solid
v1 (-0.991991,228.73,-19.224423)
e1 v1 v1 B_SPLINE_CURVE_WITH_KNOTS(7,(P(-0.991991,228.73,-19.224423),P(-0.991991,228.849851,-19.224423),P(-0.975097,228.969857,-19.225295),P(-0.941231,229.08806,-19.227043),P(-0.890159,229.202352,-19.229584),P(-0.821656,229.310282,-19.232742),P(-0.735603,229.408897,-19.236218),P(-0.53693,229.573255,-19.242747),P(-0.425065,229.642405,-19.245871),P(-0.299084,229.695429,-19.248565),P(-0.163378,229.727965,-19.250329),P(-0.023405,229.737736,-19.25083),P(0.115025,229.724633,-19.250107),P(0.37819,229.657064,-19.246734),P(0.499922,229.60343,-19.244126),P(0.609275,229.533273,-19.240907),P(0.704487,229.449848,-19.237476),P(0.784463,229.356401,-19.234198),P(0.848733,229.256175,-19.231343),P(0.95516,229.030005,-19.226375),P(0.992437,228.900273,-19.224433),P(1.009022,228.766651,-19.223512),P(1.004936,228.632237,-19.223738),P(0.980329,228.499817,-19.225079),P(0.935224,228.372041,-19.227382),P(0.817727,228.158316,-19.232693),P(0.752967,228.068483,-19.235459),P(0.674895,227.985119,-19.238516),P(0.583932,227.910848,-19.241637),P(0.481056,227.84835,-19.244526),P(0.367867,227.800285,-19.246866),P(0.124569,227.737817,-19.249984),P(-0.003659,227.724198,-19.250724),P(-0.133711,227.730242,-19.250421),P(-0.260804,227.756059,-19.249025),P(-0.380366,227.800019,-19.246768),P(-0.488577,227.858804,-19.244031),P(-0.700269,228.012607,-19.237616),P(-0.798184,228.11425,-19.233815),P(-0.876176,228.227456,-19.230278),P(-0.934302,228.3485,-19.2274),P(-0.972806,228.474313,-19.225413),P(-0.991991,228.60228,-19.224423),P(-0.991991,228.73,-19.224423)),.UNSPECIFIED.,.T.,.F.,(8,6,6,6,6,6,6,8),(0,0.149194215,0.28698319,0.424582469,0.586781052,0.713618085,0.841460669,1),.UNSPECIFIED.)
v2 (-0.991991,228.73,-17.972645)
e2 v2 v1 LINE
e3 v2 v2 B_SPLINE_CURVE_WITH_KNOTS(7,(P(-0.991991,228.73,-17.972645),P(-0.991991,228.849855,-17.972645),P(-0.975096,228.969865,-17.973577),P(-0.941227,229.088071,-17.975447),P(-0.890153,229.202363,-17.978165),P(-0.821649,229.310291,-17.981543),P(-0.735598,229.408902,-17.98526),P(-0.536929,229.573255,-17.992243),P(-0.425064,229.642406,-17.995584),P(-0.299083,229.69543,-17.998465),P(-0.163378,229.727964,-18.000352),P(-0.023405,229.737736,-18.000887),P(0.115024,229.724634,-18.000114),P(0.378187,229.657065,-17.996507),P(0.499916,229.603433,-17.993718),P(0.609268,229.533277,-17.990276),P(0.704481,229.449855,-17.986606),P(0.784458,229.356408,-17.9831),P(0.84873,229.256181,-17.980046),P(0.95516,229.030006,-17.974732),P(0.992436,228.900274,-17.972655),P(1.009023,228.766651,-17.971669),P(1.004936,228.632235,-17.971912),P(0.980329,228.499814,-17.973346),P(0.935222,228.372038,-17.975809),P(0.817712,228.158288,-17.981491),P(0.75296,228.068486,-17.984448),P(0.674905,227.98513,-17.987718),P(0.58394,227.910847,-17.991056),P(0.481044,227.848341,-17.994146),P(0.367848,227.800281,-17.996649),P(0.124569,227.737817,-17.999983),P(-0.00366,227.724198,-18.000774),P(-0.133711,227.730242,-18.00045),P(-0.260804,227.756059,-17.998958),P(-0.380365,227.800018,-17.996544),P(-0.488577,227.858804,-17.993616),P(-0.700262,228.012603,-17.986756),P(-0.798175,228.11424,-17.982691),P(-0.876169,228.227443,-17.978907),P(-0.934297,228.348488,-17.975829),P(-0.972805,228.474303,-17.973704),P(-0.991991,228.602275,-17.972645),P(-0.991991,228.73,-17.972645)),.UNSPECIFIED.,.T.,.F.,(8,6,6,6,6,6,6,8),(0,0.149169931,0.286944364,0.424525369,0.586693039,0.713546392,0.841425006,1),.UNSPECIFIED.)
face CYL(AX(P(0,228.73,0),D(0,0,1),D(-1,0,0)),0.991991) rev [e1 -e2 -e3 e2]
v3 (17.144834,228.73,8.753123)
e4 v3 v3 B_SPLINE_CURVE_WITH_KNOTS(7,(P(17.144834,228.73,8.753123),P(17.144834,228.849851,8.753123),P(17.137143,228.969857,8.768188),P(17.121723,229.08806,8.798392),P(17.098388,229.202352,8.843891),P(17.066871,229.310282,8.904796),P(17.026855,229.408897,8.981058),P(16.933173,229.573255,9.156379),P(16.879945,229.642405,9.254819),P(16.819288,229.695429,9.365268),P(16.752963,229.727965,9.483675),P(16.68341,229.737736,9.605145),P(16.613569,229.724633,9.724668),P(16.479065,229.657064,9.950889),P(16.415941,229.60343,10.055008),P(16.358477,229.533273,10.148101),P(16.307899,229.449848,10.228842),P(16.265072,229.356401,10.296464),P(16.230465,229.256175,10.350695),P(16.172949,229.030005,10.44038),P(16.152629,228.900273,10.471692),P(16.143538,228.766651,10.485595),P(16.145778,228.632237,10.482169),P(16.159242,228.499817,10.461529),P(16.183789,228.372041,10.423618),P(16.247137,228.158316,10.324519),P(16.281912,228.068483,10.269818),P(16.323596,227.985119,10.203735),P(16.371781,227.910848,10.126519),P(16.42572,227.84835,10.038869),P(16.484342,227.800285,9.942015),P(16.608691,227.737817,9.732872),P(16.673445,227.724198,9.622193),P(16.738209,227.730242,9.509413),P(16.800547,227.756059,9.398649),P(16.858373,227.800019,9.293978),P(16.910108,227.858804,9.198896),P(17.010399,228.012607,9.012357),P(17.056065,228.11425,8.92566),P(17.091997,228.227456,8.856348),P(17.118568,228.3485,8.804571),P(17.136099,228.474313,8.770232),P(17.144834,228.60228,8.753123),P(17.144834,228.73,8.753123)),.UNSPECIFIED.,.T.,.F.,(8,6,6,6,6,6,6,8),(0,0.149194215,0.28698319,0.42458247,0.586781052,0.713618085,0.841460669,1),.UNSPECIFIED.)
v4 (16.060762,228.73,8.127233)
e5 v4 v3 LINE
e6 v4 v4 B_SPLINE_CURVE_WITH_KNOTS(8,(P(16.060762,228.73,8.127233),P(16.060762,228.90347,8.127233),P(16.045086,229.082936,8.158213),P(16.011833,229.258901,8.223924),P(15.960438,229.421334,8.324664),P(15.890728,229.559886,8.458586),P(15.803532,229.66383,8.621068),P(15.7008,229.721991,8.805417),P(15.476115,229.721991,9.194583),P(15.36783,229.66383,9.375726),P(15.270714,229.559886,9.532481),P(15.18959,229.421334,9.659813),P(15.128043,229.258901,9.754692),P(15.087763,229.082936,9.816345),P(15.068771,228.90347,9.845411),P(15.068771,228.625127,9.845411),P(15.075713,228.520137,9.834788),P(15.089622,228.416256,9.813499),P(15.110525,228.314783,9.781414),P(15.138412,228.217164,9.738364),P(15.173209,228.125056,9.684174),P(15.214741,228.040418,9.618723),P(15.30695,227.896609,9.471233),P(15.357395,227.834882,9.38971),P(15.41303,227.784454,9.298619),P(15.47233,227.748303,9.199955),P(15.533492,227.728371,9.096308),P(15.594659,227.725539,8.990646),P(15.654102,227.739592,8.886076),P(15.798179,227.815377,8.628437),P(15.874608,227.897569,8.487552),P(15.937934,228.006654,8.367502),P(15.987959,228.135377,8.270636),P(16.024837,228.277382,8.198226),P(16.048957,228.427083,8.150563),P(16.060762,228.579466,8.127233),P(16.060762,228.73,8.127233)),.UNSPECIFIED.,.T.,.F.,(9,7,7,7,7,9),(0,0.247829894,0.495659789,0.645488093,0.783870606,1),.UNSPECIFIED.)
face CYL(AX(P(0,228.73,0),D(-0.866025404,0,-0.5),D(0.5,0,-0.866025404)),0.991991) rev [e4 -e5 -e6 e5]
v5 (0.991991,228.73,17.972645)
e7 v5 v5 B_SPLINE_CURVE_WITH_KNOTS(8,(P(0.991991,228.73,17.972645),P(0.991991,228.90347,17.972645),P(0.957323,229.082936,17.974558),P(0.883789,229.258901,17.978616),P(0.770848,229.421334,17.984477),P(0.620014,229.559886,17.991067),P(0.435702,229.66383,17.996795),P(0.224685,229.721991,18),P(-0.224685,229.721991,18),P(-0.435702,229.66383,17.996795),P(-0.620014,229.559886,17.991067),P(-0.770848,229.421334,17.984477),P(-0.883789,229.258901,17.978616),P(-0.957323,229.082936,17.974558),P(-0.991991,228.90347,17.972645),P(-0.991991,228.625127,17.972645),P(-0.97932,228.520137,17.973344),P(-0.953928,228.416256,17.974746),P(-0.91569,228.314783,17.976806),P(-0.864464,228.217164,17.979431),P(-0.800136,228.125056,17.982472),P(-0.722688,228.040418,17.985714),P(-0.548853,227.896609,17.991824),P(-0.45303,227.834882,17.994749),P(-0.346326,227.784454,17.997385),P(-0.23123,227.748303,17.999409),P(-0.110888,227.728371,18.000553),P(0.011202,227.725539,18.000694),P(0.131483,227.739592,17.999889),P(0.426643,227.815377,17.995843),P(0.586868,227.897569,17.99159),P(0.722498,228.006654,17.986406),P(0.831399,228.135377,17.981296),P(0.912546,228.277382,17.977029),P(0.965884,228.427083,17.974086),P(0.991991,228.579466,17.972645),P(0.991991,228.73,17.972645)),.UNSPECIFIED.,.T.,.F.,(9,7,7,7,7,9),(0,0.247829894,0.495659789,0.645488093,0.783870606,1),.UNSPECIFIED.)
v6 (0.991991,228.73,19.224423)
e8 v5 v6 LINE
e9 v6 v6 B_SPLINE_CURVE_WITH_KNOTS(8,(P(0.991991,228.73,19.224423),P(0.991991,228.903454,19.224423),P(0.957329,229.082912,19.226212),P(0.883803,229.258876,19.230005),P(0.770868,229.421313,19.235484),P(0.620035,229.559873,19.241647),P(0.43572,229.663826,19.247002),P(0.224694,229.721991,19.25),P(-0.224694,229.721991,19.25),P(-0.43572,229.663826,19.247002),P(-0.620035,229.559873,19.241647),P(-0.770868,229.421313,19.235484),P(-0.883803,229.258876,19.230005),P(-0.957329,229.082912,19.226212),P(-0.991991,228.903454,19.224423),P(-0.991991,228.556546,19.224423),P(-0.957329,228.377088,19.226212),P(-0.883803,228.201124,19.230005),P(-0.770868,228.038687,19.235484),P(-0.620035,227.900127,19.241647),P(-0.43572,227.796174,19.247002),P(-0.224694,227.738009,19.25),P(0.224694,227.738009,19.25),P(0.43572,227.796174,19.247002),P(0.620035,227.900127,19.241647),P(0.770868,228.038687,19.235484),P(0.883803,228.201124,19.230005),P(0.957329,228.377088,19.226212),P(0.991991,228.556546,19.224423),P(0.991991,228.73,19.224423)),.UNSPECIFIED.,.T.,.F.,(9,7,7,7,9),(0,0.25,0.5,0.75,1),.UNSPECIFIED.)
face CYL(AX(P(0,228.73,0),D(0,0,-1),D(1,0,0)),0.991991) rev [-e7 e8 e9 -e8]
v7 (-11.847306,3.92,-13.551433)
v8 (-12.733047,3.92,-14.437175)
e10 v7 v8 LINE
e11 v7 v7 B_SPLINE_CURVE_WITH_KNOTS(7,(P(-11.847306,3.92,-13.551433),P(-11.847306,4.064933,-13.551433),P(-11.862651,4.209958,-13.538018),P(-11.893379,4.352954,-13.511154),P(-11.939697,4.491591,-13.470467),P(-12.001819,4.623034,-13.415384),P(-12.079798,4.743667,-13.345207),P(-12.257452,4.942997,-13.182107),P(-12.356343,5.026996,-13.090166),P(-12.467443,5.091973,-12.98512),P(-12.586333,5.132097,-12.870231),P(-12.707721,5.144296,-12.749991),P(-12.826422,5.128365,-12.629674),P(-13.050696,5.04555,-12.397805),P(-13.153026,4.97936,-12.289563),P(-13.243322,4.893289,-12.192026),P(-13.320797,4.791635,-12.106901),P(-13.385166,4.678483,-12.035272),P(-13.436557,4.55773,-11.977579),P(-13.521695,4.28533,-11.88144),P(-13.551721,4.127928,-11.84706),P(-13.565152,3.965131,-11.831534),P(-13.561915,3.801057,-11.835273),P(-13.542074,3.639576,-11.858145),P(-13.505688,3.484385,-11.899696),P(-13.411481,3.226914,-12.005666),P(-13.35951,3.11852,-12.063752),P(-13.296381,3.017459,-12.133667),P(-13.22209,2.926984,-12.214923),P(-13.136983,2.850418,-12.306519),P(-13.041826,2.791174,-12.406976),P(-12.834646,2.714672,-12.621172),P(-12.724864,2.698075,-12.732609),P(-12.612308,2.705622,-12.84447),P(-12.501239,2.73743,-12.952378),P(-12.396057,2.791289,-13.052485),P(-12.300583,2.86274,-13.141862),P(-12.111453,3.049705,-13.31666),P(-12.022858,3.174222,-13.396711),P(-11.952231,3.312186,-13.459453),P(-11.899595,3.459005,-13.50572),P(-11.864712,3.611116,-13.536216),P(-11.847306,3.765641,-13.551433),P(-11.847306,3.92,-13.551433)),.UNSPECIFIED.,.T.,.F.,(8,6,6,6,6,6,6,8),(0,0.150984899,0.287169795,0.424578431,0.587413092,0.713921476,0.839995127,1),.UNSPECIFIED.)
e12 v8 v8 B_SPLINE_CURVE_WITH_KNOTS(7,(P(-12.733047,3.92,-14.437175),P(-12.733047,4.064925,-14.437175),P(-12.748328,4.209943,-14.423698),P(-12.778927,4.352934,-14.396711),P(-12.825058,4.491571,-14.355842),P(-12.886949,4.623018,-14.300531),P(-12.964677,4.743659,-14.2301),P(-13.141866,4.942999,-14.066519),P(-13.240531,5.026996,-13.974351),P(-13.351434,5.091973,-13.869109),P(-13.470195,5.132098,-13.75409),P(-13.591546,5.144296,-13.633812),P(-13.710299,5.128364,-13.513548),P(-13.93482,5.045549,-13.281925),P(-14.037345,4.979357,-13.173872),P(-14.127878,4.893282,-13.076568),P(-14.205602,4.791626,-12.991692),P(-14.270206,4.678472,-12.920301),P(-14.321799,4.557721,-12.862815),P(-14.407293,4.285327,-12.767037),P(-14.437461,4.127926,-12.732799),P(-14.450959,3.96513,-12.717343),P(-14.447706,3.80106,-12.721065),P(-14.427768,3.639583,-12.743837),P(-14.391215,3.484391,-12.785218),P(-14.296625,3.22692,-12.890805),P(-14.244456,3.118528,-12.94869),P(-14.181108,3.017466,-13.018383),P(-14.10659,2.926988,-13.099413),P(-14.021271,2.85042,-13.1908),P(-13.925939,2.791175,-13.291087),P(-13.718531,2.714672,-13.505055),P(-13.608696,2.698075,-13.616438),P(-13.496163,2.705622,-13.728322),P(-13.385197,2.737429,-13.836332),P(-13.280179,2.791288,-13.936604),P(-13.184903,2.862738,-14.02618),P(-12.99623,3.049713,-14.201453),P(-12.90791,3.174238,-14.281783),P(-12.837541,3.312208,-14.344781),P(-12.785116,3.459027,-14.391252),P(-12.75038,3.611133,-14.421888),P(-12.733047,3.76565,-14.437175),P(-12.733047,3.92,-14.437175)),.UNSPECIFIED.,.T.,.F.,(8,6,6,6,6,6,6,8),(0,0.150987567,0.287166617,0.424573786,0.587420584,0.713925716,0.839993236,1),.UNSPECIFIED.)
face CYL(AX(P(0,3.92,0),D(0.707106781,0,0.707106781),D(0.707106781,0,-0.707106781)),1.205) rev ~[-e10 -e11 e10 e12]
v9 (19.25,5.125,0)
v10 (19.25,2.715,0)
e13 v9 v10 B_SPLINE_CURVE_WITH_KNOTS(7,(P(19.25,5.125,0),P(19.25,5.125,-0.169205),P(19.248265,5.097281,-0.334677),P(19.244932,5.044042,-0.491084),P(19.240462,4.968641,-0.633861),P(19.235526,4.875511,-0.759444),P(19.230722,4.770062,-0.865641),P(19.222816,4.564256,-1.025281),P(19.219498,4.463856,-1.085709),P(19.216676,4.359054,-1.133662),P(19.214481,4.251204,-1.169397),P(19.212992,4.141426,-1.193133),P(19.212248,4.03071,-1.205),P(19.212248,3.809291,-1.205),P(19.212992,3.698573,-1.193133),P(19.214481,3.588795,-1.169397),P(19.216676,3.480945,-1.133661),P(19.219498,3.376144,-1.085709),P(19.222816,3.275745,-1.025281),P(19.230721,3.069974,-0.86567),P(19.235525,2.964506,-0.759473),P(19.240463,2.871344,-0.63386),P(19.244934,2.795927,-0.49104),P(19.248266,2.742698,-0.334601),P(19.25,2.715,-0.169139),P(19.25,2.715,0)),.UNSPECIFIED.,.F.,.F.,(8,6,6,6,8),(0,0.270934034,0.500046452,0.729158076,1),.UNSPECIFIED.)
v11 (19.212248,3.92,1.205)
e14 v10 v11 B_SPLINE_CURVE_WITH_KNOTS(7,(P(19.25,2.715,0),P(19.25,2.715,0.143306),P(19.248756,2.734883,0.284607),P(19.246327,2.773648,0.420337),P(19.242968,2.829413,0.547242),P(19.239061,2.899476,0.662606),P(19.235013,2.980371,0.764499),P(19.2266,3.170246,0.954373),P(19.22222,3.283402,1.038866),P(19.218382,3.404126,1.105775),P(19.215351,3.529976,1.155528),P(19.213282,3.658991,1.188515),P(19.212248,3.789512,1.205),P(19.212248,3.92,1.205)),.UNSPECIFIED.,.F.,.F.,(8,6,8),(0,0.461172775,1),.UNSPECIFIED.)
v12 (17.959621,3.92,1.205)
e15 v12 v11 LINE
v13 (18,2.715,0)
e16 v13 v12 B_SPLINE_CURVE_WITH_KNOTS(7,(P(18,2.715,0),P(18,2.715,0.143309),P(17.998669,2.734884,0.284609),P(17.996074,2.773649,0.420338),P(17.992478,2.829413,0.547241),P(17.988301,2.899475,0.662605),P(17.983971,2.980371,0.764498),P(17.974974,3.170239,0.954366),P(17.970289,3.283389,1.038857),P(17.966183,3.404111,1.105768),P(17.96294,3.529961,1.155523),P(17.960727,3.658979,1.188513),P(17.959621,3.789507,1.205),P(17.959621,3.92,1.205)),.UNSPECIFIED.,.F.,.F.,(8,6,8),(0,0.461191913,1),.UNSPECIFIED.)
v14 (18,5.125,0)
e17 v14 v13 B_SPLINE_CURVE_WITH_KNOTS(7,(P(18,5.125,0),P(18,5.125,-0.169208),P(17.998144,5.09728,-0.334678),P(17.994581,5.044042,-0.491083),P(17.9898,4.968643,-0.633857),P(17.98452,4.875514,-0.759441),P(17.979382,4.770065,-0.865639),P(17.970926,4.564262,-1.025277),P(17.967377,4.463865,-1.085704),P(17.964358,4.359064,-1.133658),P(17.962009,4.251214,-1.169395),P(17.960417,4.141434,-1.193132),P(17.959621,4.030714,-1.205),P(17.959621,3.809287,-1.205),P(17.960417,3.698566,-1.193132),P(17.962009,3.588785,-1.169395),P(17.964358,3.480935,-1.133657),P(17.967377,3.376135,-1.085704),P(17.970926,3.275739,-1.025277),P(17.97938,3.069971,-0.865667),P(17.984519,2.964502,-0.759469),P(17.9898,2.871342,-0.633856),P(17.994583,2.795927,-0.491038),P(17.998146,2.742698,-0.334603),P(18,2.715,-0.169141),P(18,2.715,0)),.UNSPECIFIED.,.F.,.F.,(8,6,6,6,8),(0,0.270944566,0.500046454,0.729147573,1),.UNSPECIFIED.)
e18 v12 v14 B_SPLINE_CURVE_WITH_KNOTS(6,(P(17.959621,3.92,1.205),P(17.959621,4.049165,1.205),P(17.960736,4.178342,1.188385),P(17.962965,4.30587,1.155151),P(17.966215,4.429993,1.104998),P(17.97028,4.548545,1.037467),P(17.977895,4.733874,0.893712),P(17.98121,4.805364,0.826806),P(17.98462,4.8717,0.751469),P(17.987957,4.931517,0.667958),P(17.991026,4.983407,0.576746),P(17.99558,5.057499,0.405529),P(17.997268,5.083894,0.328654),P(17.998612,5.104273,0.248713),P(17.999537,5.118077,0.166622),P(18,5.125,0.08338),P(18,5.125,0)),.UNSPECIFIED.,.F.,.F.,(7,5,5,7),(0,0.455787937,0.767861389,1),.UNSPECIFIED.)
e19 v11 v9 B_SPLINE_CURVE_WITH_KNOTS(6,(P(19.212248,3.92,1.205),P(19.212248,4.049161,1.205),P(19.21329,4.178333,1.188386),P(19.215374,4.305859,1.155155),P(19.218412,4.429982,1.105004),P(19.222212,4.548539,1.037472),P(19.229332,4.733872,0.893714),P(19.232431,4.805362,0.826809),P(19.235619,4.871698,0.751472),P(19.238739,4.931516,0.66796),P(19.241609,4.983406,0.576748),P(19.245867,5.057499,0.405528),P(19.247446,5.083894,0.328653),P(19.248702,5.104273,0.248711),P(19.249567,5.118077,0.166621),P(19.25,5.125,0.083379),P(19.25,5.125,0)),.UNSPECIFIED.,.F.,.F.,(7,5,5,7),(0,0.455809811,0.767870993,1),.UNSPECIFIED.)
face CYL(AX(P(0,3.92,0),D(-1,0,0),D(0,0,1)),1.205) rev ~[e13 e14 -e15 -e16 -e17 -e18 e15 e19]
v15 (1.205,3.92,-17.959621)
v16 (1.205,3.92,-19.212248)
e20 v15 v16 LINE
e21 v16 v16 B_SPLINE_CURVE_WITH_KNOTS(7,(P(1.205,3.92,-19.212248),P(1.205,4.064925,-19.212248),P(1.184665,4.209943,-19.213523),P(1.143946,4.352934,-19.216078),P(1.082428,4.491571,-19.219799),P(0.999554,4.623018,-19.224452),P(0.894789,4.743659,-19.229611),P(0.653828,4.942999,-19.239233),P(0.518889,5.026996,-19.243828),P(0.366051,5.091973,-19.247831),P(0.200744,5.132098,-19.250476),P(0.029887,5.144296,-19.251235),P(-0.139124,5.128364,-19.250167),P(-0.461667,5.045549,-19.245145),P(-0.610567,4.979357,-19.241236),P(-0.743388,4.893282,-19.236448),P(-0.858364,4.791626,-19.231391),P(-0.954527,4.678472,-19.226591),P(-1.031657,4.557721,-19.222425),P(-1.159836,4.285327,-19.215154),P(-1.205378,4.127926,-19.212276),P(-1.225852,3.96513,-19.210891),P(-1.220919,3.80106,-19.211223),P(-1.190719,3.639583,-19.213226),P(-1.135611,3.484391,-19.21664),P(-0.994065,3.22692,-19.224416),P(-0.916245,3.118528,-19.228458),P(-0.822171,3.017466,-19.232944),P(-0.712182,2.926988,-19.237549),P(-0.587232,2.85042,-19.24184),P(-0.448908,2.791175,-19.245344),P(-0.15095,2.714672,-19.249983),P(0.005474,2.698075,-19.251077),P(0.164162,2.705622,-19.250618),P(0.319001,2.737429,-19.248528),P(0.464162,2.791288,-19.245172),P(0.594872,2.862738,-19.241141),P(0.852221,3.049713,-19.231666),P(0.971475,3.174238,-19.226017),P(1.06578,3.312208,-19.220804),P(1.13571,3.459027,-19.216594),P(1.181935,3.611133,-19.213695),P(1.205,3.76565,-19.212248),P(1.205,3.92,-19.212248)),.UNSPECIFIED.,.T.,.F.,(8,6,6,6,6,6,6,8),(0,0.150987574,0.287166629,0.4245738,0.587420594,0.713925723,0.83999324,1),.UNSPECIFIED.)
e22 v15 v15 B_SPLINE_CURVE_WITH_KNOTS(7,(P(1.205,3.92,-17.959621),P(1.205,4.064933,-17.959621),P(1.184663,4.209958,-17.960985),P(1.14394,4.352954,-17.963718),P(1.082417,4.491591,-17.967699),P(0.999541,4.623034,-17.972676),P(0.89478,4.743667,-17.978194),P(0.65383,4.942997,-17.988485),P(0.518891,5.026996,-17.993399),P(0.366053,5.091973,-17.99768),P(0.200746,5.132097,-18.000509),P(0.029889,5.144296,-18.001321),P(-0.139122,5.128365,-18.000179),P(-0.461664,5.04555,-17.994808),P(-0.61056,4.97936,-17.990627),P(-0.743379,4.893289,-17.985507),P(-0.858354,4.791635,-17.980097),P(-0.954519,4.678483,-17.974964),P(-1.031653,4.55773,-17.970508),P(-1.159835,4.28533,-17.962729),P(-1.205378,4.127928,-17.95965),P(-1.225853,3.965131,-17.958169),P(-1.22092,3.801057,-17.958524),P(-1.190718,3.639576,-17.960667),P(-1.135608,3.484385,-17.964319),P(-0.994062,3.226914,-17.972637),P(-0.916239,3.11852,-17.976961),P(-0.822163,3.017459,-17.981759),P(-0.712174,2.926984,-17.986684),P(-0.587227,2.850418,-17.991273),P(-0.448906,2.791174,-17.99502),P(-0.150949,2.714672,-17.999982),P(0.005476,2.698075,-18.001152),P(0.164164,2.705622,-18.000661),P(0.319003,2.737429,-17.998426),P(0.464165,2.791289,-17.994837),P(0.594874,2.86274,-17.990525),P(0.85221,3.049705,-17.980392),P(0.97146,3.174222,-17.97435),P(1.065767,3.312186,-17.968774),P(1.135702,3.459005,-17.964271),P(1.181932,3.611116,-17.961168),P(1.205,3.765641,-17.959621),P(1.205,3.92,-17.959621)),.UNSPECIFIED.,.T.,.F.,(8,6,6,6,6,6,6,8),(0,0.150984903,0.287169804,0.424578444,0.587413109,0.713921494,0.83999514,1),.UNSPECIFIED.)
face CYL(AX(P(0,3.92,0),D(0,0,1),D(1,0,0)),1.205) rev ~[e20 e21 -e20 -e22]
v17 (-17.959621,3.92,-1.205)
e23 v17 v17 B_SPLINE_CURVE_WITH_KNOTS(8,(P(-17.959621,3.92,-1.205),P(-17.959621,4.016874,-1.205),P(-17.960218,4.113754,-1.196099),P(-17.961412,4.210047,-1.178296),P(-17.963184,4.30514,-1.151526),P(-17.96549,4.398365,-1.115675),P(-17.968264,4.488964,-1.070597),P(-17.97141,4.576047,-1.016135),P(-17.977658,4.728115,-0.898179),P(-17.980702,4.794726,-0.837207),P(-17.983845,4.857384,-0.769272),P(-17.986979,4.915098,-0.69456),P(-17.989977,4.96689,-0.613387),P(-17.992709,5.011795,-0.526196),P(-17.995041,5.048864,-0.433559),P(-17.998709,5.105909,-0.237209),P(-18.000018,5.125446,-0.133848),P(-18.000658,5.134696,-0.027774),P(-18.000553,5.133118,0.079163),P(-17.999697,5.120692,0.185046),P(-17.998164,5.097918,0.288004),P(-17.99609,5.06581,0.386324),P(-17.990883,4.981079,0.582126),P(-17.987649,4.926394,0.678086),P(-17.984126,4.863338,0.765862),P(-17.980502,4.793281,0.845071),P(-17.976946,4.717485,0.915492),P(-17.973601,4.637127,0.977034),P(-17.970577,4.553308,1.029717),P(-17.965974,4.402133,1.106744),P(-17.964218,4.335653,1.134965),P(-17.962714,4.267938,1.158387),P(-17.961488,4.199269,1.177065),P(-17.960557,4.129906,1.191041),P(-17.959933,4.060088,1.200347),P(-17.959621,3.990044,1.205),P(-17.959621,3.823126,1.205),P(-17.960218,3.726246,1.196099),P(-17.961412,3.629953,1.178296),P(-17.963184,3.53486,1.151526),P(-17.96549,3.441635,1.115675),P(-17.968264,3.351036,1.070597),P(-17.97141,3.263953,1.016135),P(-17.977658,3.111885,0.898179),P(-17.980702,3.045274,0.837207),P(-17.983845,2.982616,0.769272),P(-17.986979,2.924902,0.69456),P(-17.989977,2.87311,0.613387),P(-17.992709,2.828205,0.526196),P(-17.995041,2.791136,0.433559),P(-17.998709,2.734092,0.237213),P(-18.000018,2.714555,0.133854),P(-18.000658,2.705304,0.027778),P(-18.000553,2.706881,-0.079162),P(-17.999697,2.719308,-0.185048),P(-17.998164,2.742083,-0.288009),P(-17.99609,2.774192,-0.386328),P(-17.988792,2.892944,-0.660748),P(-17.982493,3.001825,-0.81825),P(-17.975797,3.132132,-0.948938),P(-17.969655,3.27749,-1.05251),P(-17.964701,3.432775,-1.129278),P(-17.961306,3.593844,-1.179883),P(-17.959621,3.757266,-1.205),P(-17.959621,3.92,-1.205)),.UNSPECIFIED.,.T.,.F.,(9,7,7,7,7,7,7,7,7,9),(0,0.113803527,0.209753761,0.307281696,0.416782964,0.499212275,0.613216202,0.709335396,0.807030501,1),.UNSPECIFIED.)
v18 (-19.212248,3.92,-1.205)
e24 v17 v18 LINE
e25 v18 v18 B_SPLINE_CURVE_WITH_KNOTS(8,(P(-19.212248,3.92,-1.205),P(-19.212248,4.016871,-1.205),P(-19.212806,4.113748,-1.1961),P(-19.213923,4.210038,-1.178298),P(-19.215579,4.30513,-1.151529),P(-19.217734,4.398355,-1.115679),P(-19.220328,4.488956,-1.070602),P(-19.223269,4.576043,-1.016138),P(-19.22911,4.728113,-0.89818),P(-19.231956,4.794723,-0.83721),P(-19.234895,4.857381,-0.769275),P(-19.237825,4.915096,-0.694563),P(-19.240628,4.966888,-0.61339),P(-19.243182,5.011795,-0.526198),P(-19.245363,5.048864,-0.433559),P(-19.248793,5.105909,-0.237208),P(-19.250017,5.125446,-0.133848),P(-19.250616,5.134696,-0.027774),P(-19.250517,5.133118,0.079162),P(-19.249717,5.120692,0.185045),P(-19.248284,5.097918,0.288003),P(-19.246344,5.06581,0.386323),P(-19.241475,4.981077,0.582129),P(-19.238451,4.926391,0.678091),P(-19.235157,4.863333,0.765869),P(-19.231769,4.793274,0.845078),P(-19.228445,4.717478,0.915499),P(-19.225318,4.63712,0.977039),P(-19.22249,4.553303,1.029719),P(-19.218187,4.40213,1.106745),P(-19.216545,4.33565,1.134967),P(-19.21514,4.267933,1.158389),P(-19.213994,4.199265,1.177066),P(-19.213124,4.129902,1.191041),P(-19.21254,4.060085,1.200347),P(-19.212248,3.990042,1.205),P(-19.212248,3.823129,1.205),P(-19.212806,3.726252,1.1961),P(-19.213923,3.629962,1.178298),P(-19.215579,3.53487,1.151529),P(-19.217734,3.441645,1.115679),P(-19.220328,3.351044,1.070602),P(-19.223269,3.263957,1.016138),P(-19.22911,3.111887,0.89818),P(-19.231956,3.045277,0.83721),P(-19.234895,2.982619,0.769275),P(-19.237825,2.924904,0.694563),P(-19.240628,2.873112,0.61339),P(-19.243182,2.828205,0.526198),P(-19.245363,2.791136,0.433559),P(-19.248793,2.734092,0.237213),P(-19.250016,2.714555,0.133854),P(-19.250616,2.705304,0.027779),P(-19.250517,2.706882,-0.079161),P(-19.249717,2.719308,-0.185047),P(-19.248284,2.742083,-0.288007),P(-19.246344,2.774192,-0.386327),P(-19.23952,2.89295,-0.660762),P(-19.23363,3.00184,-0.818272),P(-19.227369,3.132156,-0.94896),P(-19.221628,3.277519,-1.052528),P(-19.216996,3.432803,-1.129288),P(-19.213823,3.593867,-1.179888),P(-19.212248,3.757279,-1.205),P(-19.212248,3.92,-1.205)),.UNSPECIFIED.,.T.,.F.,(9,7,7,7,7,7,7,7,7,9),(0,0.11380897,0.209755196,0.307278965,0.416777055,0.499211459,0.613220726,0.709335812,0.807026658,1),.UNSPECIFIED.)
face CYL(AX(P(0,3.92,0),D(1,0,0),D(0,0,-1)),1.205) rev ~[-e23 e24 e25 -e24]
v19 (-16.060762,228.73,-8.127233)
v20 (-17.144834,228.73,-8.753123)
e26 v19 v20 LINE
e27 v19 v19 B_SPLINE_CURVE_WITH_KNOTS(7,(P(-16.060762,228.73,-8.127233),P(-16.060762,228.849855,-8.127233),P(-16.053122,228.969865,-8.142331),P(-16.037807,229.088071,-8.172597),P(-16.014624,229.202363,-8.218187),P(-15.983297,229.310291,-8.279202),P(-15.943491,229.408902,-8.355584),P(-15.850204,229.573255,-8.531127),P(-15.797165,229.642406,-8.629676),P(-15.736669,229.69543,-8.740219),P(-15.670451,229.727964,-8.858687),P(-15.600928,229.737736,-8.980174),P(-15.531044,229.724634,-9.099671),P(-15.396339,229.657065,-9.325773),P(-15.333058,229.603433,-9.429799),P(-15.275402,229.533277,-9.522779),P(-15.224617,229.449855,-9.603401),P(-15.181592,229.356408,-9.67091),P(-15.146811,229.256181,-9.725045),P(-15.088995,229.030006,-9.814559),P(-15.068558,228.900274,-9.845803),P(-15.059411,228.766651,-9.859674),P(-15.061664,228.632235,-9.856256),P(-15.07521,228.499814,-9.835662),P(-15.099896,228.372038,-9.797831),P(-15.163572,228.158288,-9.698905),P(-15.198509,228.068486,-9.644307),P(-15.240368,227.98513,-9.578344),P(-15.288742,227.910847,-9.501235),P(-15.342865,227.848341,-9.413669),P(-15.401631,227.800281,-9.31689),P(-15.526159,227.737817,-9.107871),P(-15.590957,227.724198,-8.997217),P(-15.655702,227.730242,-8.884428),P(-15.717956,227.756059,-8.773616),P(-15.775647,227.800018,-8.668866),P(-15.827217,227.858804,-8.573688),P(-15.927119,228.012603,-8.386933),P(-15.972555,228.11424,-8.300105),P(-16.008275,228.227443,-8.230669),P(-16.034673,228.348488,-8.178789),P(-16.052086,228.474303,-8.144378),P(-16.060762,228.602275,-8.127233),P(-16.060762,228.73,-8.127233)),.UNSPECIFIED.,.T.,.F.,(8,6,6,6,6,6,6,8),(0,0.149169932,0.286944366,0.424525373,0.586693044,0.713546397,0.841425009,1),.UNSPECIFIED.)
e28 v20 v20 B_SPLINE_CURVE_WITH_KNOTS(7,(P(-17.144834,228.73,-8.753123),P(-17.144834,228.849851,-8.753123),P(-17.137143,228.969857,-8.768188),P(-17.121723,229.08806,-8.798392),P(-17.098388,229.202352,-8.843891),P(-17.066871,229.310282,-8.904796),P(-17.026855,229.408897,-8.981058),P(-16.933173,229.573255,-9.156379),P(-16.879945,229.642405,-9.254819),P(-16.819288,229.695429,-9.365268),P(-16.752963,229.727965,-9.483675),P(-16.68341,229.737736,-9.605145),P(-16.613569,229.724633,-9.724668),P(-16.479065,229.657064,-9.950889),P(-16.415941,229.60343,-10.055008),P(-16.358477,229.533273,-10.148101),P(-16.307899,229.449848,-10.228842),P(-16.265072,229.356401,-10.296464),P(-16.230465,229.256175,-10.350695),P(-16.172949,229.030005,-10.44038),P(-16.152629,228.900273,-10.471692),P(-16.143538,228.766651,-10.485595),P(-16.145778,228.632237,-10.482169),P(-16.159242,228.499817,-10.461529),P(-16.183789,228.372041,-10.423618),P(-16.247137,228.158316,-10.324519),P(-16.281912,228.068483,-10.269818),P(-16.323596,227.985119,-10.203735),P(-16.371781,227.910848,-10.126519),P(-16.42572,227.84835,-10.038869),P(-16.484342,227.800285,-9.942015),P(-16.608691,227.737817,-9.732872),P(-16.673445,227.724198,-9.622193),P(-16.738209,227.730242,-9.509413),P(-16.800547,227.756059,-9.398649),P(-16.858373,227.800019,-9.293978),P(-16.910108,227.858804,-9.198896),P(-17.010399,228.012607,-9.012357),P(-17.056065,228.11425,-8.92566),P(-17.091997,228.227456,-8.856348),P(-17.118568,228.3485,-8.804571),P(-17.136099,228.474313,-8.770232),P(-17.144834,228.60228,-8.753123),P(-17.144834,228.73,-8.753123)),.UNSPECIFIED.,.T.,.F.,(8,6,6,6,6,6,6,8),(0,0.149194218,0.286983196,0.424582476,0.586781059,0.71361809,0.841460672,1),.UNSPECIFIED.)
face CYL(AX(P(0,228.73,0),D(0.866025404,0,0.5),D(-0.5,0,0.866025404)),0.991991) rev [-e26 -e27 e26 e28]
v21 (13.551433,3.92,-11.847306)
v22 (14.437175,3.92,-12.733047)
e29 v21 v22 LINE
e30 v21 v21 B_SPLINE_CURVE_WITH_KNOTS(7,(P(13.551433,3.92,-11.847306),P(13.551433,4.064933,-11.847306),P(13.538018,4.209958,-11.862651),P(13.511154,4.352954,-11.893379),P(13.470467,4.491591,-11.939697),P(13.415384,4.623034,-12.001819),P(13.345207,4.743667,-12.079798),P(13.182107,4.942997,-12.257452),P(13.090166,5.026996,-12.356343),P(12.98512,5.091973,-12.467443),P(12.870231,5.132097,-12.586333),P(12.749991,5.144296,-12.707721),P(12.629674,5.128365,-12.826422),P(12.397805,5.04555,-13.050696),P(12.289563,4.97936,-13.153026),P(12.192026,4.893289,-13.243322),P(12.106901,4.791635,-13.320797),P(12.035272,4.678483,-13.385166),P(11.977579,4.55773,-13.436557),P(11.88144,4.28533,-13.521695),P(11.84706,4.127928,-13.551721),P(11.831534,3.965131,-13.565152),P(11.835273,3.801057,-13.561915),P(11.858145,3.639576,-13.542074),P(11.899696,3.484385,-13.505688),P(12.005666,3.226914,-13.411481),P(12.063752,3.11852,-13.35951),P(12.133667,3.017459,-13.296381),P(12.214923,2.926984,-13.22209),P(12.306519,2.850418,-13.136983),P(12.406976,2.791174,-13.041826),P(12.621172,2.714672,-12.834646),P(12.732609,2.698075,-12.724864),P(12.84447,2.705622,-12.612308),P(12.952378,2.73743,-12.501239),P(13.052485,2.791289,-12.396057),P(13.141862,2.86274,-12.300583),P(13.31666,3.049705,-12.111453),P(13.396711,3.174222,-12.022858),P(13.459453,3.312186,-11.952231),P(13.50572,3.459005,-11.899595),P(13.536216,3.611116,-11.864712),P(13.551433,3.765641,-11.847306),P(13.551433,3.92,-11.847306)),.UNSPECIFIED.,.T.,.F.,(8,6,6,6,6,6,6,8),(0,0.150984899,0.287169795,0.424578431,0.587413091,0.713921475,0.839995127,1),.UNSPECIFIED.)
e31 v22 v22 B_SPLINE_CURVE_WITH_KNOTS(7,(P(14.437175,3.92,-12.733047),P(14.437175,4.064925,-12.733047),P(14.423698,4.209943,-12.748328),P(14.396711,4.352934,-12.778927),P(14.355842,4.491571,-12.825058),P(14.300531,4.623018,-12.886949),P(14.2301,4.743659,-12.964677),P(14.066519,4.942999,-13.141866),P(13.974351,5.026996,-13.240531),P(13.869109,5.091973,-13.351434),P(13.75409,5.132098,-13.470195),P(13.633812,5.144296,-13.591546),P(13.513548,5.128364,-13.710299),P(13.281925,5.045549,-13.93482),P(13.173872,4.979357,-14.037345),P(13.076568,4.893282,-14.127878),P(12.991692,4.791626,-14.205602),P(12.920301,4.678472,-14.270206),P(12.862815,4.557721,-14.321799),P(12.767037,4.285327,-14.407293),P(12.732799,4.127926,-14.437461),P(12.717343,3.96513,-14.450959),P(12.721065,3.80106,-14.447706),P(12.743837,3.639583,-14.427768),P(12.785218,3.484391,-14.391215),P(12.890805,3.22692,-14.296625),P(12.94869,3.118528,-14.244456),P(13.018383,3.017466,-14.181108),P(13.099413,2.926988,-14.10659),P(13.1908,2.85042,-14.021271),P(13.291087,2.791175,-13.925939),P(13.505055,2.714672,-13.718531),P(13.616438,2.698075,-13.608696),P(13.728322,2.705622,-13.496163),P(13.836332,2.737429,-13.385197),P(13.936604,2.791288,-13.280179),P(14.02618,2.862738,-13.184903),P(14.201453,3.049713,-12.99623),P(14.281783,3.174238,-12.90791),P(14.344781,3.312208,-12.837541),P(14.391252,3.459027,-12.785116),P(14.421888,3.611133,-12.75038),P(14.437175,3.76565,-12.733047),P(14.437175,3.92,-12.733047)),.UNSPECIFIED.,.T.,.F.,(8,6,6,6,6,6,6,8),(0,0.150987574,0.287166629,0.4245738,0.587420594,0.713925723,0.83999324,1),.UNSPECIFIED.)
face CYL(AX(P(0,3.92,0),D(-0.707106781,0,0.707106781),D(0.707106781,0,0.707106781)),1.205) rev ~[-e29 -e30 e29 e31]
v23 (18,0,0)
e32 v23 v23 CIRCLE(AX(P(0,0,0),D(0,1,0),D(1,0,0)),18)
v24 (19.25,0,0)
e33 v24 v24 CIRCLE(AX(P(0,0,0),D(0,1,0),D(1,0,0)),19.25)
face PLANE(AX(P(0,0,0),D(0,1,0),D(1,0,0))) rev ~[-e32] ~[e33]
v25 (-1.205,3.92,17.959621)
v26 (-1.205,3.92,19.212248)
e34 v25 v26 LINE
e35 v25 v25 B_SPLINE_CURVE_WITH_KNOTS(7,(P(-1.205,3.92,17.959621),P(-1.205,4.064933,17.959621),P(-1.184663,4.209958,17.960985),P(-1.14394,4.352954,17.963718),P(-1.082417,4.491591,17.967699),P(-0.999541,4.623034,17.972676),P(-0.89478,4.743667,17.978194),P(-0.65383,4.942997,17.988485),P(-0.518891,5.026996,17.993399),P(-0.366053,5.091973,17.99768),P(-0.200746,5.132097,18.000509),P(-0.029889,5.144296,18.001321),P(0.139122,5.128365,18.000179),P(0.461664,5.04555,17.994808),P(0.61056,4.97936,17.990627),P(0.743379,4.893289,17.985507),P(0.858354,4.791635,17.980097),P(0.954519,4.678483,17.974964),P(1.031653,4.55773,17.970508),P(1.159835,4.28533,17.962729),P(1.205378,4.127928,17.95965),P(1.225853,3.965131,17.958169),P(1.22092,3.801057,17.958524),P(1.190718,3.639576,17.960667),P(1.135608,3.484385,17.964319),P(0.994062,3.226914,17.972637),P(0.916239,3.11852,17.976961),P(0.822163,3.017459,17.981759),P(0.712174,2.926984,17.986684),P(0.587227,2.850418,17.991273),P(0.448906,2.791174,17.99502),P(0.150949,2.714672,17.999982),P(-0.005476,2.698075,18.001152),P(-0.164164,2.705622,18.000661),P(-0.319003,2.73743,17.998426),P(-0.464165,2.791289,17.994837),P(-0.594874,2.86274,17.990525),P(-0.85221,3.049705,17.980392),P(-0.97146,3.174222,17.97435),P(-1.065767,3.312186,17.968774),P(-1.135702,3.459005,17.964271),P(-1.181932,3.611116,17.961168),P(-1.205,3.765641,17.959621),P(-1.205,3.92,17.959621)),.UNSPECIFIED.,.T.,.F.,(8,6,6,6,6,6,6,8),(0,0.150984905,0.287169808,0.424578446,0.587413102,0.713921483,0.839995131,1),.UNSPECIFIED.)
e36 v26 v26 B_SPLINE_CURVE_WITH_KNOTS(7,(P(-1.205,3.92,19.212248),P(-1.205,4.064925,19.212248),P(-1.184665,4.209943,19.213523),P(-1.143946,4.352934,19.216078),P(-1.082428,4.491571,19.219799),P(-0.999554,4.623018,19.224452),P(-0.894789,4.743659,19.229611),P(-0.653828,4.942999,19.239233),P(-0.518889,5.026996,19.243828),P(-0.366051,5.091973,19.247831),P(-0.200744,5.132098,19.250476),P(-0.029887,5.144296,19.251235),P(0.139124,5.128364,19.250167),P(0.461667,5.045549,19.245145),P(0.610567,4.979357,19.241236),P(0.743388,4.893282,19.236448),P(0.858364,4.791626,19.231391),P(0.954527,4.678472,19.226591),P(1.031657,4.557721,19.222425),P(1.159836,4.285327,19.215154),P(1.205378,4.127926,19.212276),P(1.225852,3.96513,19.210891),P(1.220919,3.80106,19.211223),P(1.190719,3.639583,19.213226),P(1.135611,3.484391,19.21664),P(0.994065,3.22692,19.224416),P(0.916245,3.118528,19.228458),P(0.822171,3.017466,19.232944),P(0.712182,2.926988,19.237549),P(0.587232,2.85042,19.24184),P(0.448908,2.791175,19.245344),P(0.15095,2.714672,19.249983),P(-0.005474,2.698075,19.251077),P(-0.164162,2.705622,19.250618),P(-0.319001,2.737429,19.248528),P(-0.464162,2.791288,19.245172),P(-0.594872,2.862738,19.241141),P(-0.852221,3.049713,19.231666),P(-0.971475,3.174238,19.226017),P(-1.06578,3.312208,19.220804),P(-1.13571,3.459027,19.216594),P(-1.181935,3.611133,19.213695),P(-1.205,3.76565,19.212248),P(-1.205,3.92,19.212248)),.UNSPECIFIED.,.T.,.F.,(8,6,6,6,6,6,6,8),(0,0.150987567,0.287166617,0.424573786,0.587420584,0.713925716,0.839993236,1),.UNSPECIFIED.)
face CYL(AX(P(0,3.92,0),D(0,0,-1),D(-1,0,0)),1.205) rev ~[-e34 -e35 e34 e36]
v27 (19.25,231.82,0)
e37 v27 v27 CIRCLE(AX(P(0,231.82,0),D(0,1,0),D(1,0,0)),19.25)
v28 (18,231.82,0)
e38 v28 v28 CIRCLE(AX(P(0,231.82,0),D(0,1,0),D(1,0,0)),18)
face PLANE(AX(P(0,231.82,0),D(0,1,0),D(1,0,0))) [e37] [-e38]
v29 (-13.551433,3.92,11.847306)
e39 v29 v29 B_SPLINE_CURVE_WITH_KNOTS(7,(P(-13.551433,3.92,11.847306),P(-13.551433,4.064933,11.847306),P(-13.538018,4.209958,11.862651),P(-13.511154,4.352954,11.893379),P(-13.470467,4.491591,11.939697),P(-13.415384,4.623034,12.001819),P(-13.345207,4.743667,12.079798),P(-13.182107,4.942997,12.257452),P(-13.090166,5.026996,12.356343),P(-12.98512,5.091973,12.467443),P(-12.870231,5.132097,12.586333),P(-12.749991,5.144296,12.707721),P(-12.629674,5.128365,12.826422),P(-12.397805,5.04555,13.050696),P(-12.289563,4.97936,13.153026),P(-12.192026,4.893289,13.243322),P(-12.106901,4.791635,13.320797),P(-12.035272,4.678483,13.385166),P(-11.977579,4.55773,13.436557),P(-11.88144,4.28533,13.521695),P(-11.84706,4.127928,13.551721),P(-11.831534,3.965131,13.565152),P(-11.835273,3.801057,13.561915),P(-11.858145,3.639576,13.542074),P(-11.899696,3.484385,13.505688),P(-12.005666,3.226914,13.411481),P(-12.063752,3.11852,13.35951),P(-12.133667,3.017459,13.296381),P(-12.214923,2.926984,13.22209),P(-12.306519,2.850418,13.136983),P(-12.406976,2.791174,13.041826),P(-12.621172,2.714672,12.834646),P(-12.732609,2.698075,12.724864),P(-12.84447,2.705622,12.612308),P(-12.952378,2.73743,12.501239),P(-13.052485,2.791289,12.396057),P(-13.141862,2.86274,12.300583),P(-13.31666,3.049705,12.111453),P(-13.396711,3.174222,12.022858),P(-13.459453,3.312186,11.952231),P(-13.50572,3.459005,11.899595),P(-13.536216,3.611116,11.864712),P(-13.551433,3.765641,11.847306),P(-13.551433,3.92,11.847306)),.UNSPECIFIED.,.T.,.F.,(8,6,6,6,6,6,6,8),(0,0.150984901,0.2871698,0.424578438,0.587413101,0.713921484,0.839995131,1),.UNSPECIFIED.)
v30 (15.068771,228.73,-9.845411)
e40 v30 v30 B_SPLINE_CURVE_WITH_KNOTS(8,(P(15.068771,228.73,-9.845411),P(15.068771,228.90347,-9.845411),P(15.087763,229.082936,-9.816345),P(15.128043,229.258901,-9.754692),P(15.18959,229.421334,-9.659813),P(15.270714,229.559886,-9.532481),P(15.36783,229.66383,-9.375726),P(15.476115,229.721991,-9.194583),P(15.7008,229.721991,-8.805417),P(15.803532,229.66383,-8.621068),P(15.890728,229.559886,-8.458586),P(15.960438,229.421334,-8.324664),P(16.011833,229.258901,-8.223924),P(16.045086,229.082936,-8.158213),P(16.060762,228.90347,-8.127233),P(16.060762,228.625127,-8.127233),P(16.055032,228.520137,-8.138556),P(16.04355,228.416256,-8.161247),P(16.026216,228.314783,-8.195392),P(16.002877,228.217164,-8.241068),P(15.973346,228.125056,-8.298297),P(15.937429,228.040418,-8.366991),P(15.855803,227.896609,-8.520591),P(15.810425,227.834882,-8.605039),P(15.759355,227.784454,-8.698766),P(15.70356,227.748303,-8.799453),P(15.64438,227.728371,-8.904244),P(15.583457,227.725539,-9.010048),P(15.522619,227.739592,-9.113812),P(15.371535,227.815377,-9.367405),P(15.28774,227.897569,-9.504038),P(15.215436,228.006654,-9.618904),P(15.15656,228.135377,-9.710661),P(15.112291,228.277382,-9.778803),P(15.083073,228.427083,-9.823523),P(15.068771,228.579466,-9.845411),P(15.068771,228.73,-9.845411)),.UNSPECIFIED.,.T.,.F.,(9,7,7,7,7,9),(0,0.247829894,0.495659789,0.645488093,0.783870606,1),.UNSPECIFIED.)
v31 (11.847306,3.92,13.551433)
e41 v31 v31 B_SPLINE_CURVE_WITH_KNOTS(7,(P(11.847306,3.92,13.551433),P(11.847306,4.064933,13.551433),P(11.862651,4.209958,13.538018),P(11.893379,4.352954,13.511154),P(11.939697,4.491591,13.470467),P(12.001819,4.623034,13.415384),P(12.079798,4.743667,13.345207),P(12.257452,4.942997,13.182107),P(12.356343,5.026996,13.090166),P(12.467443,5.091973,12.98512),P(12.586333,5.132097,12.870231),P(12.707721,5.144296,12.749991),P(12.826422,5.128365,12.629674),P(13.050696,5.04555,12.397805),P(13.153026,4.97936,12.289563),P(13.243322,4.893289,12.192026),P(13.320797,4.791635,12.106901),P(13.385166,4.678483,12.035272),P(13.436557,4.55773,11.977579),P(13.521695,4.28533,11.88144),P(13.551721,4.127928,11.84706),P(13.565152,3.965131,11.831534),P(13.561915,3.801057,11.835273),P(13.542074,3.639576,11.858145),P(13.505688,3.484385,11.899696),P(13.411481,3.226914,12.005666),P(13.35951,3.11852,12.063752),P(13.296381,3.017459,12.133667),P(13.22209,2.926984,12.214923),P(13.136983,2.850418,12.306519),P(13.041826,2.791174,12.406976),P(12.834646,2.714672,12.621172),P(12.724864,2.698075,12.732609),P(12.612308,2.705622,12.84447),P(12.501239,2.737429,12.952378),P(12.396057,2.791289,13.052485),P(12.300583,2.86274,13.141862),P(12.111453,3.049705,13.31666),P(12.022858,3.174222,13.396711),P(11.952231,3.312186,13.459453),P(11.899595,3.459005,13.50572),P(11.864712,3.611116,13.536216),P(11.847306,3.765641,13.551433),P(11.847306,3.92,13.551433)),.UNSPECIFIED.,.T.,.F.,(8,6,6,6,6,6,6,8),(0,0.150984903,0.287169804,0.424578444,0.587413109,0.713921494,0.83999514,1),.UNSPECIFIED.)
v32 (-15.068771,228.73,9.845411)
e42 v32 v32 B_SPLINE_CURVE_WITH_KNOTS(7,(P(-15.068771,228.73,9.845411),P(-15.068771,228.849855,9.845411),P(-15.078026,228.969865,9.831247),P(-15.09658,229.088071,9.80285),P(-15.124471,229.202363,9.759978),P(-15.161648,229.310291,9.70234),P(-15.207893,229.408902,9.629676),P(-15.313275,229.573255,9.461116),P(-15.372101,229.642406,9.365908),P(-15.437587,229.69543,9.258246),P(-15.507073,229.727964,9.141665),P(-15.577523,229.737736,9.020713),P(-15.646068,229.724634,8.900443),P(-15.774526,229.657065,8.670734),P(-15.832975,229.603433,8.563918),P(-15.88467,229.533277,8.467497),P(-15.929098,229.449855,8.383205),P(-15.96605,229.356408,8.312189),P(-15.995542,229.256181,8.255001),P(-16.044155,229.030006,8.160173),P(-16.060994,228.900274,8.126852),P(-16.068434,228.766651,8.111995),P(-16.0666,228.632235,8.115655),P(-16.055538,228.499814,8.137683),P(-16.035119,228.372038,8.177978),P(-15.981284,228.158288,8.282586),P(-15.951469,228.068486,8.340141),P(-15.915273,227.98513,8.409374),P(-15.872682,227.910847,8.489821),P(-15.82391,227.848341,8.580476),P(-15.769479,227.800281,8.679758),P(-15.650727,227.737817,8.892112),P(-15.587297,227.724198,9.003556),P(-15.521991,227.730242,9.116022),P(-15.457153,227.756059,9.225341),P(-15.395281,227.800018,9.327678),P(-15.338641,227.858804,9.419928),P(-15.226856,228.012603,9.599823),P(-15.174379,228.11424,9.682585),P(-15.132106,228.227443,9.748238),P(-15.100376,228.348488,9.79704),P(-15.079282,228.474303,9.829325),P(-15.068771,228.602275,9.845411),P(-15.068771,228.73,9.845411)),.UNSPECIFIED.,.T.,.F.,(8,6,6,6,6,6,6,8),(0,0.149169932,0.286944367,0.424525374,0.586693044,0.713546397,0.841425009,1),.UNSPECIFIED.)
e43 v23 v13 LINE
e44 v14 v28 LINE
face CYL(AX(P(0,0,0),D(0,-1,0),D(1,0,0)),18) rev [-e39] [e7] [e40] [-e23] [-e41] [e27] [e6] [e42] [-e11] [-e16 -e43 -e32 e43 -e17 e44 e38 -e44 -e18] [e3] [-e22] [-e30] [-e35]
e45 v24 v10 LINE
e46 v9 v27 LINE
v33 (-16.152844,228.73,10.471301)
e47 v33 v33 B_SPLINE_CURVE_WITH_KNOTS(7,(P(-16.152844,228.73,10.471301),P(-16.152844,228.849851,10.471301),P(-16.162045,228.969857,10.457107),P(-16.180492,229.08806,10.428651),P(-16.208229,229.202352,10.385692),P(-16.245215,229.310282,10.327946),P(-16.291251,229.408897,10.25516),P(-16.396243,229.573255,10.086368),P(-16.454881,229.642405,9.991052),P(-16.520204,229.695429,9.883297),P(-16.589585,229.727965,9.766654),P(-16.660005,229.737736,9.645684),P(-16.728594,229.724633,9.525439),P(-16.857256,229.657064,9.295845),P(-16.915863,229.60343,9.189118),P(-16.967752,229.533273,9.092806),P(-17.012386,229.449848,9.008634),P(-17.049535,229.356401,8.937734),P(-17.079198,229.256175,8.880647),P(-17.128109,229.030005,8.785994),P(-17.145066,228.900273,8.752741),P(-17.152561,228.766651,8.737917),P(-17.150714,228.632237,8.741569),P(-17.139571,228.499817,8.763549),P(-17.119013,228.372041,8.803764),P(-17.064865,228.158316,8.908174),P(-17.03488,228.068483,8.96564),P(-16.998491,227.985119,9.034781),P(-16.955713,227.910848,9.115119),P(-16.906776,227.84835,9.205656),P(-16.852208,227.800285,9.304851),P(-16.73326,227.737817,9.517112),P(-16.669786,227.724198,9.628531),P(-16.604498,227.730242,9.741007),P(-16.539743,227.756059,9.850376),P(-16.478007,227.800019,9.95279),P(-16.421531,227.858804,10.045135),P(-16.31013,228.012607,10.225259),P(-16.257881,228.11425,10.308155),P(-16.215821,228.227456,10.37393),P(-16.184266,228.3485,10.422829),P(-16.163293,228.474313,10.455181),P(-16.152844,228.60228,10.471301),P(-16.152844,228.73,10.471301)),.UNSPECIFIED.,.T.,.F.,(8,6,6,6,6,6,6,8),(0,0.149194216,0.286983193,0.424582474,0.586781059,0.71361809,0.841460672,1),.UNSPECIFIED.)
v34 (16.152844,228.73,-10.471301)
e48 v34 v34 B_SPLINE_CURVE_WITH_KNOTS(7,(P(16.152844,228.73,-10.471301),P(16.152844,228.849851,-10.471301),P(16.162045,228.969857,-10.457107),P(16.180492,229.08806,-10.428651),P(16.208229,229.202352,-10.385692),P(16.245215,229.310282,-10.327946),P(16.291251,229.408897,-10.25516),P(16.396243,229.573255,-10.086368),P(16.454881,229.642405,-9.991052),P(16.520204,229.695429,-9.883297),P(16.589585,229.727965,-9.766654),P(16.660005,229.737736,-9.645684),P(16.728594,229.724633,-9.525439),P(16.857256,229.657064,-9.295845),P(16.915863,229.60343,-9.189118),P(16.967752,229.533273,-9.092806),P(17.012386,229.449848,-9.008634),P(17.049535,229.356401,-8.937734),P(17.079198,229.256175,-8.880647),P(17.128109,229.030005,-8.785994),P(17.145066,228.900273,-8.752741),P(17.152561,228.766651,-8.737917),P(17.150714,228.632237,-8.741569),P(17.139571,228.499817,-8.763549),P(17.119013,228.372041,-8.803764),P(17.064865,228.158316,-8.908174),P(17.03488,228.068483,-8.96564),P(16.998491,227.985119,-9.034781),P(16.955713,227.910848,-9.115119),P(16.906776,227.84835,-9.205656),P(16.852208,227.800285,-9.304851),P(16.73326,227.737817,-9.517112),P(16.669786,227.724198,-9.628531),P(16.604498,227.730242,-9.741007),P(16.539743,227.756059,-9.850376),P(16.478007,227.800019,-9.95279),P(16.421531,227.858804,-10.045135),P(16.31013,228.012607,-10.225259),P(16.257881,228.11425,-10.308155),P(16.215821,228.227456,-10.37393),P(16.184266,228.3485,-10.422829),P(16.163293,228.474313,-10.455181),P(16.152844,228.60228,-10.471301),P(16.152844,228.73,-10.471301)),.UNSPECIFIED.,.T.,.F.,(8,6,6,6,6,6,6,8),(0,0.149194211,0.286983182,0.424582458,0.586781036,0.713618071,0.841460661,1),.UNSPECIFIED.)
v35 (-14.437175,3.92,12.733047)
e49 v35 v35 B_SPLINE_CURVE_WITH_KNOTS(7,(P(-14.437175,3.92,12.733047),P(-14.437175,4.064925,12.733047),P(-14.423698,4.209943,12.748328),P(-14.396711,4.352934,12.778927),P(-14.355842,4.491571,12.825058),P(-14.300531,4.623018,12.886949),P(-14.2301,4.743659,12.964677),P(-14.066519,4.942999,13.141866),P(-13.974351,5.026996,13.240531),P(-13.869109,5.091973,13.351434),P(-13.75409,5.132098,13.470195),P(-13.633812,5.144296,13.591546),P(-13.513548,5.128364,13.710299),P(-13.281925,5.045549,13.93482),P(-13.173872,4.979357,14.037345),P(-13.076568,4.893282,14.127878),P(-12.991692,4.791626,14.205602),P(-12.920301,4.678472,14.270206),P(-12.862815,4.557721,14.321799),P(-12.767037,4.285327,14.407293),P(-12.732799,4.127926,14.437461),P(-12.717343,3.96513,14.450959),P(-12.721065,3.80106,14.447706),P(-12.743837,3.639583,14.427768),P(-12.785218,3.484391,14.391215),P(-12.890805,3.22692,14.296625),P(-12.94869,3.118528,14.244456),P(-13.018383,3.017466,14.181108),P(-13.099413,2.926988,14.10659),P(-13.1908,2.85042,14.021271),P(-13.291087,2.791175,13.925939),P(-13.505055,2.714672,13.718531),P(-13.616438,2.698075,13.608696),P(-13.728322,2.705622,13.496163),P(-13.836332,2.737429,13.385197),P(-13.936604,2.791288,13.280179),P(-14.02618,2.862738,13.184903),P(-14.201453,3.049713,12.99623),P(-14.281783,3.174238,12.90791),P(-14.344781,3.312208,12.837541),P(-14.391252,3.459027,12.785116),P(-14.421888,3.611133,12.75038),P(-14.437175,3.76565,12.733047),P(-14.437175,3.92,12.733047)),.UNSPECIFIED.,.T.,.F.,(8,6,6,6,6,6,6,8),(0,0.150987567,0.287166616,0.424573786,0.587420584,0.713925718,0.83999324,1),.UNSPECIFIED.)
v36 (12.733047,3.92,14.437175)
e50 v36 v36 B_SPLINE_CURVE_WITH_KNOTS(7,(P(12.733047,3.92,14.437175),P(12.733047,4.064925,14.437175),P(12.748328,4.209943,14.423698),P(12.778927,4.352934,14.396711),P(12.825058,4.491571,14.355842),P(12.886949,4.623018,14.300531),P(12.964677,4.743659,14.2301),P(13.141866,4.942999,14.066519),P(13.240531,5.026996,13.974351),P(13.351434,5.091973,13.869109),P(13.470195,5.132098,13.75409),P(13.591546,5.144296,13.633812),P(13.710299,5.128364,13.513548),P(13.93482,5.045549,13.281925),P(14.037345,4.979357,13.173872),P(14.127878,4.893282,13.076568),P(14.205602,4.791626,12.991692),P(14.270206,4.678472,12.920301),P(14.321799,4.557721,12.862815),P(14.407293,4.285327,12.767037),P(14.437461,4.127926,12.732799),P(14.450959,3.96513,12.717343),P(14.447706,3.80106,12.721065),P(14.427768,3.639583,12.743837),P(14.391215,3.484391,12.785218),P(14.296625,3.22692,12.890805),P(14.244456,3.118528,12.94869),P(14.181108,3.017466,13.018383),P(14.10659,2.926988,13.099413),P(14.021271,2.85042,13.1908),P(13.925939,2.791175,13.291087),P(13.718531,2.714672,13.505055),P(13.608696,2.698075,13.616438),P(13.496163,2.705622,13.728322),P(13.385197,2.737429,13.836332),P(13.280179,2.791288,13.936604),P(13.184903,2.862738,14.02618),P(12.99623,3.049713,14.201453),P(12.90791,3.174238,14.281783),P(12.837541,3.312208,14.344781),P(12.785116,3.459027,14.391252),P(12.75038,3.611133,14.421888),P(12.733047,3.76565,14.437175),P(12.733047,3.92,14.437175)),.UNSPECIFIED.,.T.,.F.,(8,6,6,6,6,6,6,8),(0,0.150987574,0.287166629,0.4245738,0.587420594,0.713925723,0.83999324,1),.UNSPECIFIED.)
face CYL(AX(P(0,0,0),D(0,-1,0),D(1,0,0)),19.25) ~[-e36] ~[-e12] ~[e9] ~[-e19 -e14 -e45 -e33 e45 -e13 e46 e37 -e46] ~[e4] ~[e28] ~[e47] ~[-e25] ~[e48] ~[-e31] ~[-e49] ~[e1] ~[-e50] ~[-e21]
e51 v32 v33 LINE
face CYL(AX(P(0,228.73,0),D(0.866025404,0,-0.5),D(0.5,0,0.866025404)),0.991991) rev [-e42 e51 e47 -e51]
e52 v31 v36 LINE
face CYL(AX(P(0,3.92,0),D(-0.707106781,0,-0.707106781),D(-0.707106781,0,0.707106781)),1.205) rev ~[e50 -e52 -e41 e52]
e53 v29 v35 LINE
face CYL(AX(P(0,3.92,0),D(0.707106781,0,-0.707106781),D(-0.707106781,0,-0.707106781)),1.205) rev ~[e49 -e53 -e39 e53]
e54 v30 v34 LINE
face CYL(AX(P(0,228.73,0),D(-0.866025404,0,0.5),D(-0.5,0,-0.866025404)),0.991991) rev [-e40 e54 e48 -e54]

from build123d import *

# Parameters (mm, degrees)
SKETCH2_R           = 19.25
SKETCH2_R_2         = 18
BOSS_EXTRUDE1_DEPTH = 231.82
SKETCH3_R           = 1.205
CUT_EXTRUDE2_DEPTH  = 231.82
CIRPATTERN3_COUNT   = 8
SKETCH4_R           = 0.991990711
CUT_EXTRUDE3_DEPTH  = 231.82
CIRPATTERN4_COUNT   = 6


with BuildPart() as part:
    # Sketch2 → Boss-Extrude1 (new body)
    with BuildSketch(Plane(origin=(0, 0, 0), x_dir=(1, 0, 0), z_dir=(0, 1, 0))):
        Circle(SKETCH2_R)
        Circle(SKETCH2_R_2, mode=Mode.SUBTRACT)
    extrude(amount=BOSS_EXTRUDE1_DEPTH)

    # Sketch3 → Cut-Extrude2 (cut)
    with BuildSketch(Plane.XY):
        with Locations((0, 3.92)):
            Circle(SKETCH3_R)
    cut_extrude2 = extrude(amount=-CUT_EXTRUDE2_DEPTH, mode=Mode.SUBTRACT)

    # CirPattern3: Cut-Extrude2 ×8 about axis
    cirpattern3_axis = Axis((0, 231.82, 0), (0, -1, 0))
    for i in range(1, CIRPATTERN3_COUNT):
        add(cut_extrude2.rotate(cirpattern3_axis, i * 360 / CIRPATTERN3_COUNT), mode=Mode.SUBTRACT)

    # Sketch4 → Cut-Extrude3 (cut)
    with BuildSketch(Plane.XY):
        with Locations((0, 228.73)):
            Circle(SKETCH4_R)
    cut_extrude3 = extrude(amount=CUT_EXTRUDE3_DEPTH, mode=Mode.SUBTRACT)

    # CirPattern4: Cut-Extrude3 ×6 about axis
    cirpattern4_axis = Axis((0, 231.82, 0), (0, -1, 0))
    for i in range(1, CIRPATTERN4_COUNT):
        add(cut_extrude3.rotate(cirpattern4_axis, i * 360 / CIRPATTERN4_COUNT), mode=Mode.SUBTRACT)


solid = part.part
